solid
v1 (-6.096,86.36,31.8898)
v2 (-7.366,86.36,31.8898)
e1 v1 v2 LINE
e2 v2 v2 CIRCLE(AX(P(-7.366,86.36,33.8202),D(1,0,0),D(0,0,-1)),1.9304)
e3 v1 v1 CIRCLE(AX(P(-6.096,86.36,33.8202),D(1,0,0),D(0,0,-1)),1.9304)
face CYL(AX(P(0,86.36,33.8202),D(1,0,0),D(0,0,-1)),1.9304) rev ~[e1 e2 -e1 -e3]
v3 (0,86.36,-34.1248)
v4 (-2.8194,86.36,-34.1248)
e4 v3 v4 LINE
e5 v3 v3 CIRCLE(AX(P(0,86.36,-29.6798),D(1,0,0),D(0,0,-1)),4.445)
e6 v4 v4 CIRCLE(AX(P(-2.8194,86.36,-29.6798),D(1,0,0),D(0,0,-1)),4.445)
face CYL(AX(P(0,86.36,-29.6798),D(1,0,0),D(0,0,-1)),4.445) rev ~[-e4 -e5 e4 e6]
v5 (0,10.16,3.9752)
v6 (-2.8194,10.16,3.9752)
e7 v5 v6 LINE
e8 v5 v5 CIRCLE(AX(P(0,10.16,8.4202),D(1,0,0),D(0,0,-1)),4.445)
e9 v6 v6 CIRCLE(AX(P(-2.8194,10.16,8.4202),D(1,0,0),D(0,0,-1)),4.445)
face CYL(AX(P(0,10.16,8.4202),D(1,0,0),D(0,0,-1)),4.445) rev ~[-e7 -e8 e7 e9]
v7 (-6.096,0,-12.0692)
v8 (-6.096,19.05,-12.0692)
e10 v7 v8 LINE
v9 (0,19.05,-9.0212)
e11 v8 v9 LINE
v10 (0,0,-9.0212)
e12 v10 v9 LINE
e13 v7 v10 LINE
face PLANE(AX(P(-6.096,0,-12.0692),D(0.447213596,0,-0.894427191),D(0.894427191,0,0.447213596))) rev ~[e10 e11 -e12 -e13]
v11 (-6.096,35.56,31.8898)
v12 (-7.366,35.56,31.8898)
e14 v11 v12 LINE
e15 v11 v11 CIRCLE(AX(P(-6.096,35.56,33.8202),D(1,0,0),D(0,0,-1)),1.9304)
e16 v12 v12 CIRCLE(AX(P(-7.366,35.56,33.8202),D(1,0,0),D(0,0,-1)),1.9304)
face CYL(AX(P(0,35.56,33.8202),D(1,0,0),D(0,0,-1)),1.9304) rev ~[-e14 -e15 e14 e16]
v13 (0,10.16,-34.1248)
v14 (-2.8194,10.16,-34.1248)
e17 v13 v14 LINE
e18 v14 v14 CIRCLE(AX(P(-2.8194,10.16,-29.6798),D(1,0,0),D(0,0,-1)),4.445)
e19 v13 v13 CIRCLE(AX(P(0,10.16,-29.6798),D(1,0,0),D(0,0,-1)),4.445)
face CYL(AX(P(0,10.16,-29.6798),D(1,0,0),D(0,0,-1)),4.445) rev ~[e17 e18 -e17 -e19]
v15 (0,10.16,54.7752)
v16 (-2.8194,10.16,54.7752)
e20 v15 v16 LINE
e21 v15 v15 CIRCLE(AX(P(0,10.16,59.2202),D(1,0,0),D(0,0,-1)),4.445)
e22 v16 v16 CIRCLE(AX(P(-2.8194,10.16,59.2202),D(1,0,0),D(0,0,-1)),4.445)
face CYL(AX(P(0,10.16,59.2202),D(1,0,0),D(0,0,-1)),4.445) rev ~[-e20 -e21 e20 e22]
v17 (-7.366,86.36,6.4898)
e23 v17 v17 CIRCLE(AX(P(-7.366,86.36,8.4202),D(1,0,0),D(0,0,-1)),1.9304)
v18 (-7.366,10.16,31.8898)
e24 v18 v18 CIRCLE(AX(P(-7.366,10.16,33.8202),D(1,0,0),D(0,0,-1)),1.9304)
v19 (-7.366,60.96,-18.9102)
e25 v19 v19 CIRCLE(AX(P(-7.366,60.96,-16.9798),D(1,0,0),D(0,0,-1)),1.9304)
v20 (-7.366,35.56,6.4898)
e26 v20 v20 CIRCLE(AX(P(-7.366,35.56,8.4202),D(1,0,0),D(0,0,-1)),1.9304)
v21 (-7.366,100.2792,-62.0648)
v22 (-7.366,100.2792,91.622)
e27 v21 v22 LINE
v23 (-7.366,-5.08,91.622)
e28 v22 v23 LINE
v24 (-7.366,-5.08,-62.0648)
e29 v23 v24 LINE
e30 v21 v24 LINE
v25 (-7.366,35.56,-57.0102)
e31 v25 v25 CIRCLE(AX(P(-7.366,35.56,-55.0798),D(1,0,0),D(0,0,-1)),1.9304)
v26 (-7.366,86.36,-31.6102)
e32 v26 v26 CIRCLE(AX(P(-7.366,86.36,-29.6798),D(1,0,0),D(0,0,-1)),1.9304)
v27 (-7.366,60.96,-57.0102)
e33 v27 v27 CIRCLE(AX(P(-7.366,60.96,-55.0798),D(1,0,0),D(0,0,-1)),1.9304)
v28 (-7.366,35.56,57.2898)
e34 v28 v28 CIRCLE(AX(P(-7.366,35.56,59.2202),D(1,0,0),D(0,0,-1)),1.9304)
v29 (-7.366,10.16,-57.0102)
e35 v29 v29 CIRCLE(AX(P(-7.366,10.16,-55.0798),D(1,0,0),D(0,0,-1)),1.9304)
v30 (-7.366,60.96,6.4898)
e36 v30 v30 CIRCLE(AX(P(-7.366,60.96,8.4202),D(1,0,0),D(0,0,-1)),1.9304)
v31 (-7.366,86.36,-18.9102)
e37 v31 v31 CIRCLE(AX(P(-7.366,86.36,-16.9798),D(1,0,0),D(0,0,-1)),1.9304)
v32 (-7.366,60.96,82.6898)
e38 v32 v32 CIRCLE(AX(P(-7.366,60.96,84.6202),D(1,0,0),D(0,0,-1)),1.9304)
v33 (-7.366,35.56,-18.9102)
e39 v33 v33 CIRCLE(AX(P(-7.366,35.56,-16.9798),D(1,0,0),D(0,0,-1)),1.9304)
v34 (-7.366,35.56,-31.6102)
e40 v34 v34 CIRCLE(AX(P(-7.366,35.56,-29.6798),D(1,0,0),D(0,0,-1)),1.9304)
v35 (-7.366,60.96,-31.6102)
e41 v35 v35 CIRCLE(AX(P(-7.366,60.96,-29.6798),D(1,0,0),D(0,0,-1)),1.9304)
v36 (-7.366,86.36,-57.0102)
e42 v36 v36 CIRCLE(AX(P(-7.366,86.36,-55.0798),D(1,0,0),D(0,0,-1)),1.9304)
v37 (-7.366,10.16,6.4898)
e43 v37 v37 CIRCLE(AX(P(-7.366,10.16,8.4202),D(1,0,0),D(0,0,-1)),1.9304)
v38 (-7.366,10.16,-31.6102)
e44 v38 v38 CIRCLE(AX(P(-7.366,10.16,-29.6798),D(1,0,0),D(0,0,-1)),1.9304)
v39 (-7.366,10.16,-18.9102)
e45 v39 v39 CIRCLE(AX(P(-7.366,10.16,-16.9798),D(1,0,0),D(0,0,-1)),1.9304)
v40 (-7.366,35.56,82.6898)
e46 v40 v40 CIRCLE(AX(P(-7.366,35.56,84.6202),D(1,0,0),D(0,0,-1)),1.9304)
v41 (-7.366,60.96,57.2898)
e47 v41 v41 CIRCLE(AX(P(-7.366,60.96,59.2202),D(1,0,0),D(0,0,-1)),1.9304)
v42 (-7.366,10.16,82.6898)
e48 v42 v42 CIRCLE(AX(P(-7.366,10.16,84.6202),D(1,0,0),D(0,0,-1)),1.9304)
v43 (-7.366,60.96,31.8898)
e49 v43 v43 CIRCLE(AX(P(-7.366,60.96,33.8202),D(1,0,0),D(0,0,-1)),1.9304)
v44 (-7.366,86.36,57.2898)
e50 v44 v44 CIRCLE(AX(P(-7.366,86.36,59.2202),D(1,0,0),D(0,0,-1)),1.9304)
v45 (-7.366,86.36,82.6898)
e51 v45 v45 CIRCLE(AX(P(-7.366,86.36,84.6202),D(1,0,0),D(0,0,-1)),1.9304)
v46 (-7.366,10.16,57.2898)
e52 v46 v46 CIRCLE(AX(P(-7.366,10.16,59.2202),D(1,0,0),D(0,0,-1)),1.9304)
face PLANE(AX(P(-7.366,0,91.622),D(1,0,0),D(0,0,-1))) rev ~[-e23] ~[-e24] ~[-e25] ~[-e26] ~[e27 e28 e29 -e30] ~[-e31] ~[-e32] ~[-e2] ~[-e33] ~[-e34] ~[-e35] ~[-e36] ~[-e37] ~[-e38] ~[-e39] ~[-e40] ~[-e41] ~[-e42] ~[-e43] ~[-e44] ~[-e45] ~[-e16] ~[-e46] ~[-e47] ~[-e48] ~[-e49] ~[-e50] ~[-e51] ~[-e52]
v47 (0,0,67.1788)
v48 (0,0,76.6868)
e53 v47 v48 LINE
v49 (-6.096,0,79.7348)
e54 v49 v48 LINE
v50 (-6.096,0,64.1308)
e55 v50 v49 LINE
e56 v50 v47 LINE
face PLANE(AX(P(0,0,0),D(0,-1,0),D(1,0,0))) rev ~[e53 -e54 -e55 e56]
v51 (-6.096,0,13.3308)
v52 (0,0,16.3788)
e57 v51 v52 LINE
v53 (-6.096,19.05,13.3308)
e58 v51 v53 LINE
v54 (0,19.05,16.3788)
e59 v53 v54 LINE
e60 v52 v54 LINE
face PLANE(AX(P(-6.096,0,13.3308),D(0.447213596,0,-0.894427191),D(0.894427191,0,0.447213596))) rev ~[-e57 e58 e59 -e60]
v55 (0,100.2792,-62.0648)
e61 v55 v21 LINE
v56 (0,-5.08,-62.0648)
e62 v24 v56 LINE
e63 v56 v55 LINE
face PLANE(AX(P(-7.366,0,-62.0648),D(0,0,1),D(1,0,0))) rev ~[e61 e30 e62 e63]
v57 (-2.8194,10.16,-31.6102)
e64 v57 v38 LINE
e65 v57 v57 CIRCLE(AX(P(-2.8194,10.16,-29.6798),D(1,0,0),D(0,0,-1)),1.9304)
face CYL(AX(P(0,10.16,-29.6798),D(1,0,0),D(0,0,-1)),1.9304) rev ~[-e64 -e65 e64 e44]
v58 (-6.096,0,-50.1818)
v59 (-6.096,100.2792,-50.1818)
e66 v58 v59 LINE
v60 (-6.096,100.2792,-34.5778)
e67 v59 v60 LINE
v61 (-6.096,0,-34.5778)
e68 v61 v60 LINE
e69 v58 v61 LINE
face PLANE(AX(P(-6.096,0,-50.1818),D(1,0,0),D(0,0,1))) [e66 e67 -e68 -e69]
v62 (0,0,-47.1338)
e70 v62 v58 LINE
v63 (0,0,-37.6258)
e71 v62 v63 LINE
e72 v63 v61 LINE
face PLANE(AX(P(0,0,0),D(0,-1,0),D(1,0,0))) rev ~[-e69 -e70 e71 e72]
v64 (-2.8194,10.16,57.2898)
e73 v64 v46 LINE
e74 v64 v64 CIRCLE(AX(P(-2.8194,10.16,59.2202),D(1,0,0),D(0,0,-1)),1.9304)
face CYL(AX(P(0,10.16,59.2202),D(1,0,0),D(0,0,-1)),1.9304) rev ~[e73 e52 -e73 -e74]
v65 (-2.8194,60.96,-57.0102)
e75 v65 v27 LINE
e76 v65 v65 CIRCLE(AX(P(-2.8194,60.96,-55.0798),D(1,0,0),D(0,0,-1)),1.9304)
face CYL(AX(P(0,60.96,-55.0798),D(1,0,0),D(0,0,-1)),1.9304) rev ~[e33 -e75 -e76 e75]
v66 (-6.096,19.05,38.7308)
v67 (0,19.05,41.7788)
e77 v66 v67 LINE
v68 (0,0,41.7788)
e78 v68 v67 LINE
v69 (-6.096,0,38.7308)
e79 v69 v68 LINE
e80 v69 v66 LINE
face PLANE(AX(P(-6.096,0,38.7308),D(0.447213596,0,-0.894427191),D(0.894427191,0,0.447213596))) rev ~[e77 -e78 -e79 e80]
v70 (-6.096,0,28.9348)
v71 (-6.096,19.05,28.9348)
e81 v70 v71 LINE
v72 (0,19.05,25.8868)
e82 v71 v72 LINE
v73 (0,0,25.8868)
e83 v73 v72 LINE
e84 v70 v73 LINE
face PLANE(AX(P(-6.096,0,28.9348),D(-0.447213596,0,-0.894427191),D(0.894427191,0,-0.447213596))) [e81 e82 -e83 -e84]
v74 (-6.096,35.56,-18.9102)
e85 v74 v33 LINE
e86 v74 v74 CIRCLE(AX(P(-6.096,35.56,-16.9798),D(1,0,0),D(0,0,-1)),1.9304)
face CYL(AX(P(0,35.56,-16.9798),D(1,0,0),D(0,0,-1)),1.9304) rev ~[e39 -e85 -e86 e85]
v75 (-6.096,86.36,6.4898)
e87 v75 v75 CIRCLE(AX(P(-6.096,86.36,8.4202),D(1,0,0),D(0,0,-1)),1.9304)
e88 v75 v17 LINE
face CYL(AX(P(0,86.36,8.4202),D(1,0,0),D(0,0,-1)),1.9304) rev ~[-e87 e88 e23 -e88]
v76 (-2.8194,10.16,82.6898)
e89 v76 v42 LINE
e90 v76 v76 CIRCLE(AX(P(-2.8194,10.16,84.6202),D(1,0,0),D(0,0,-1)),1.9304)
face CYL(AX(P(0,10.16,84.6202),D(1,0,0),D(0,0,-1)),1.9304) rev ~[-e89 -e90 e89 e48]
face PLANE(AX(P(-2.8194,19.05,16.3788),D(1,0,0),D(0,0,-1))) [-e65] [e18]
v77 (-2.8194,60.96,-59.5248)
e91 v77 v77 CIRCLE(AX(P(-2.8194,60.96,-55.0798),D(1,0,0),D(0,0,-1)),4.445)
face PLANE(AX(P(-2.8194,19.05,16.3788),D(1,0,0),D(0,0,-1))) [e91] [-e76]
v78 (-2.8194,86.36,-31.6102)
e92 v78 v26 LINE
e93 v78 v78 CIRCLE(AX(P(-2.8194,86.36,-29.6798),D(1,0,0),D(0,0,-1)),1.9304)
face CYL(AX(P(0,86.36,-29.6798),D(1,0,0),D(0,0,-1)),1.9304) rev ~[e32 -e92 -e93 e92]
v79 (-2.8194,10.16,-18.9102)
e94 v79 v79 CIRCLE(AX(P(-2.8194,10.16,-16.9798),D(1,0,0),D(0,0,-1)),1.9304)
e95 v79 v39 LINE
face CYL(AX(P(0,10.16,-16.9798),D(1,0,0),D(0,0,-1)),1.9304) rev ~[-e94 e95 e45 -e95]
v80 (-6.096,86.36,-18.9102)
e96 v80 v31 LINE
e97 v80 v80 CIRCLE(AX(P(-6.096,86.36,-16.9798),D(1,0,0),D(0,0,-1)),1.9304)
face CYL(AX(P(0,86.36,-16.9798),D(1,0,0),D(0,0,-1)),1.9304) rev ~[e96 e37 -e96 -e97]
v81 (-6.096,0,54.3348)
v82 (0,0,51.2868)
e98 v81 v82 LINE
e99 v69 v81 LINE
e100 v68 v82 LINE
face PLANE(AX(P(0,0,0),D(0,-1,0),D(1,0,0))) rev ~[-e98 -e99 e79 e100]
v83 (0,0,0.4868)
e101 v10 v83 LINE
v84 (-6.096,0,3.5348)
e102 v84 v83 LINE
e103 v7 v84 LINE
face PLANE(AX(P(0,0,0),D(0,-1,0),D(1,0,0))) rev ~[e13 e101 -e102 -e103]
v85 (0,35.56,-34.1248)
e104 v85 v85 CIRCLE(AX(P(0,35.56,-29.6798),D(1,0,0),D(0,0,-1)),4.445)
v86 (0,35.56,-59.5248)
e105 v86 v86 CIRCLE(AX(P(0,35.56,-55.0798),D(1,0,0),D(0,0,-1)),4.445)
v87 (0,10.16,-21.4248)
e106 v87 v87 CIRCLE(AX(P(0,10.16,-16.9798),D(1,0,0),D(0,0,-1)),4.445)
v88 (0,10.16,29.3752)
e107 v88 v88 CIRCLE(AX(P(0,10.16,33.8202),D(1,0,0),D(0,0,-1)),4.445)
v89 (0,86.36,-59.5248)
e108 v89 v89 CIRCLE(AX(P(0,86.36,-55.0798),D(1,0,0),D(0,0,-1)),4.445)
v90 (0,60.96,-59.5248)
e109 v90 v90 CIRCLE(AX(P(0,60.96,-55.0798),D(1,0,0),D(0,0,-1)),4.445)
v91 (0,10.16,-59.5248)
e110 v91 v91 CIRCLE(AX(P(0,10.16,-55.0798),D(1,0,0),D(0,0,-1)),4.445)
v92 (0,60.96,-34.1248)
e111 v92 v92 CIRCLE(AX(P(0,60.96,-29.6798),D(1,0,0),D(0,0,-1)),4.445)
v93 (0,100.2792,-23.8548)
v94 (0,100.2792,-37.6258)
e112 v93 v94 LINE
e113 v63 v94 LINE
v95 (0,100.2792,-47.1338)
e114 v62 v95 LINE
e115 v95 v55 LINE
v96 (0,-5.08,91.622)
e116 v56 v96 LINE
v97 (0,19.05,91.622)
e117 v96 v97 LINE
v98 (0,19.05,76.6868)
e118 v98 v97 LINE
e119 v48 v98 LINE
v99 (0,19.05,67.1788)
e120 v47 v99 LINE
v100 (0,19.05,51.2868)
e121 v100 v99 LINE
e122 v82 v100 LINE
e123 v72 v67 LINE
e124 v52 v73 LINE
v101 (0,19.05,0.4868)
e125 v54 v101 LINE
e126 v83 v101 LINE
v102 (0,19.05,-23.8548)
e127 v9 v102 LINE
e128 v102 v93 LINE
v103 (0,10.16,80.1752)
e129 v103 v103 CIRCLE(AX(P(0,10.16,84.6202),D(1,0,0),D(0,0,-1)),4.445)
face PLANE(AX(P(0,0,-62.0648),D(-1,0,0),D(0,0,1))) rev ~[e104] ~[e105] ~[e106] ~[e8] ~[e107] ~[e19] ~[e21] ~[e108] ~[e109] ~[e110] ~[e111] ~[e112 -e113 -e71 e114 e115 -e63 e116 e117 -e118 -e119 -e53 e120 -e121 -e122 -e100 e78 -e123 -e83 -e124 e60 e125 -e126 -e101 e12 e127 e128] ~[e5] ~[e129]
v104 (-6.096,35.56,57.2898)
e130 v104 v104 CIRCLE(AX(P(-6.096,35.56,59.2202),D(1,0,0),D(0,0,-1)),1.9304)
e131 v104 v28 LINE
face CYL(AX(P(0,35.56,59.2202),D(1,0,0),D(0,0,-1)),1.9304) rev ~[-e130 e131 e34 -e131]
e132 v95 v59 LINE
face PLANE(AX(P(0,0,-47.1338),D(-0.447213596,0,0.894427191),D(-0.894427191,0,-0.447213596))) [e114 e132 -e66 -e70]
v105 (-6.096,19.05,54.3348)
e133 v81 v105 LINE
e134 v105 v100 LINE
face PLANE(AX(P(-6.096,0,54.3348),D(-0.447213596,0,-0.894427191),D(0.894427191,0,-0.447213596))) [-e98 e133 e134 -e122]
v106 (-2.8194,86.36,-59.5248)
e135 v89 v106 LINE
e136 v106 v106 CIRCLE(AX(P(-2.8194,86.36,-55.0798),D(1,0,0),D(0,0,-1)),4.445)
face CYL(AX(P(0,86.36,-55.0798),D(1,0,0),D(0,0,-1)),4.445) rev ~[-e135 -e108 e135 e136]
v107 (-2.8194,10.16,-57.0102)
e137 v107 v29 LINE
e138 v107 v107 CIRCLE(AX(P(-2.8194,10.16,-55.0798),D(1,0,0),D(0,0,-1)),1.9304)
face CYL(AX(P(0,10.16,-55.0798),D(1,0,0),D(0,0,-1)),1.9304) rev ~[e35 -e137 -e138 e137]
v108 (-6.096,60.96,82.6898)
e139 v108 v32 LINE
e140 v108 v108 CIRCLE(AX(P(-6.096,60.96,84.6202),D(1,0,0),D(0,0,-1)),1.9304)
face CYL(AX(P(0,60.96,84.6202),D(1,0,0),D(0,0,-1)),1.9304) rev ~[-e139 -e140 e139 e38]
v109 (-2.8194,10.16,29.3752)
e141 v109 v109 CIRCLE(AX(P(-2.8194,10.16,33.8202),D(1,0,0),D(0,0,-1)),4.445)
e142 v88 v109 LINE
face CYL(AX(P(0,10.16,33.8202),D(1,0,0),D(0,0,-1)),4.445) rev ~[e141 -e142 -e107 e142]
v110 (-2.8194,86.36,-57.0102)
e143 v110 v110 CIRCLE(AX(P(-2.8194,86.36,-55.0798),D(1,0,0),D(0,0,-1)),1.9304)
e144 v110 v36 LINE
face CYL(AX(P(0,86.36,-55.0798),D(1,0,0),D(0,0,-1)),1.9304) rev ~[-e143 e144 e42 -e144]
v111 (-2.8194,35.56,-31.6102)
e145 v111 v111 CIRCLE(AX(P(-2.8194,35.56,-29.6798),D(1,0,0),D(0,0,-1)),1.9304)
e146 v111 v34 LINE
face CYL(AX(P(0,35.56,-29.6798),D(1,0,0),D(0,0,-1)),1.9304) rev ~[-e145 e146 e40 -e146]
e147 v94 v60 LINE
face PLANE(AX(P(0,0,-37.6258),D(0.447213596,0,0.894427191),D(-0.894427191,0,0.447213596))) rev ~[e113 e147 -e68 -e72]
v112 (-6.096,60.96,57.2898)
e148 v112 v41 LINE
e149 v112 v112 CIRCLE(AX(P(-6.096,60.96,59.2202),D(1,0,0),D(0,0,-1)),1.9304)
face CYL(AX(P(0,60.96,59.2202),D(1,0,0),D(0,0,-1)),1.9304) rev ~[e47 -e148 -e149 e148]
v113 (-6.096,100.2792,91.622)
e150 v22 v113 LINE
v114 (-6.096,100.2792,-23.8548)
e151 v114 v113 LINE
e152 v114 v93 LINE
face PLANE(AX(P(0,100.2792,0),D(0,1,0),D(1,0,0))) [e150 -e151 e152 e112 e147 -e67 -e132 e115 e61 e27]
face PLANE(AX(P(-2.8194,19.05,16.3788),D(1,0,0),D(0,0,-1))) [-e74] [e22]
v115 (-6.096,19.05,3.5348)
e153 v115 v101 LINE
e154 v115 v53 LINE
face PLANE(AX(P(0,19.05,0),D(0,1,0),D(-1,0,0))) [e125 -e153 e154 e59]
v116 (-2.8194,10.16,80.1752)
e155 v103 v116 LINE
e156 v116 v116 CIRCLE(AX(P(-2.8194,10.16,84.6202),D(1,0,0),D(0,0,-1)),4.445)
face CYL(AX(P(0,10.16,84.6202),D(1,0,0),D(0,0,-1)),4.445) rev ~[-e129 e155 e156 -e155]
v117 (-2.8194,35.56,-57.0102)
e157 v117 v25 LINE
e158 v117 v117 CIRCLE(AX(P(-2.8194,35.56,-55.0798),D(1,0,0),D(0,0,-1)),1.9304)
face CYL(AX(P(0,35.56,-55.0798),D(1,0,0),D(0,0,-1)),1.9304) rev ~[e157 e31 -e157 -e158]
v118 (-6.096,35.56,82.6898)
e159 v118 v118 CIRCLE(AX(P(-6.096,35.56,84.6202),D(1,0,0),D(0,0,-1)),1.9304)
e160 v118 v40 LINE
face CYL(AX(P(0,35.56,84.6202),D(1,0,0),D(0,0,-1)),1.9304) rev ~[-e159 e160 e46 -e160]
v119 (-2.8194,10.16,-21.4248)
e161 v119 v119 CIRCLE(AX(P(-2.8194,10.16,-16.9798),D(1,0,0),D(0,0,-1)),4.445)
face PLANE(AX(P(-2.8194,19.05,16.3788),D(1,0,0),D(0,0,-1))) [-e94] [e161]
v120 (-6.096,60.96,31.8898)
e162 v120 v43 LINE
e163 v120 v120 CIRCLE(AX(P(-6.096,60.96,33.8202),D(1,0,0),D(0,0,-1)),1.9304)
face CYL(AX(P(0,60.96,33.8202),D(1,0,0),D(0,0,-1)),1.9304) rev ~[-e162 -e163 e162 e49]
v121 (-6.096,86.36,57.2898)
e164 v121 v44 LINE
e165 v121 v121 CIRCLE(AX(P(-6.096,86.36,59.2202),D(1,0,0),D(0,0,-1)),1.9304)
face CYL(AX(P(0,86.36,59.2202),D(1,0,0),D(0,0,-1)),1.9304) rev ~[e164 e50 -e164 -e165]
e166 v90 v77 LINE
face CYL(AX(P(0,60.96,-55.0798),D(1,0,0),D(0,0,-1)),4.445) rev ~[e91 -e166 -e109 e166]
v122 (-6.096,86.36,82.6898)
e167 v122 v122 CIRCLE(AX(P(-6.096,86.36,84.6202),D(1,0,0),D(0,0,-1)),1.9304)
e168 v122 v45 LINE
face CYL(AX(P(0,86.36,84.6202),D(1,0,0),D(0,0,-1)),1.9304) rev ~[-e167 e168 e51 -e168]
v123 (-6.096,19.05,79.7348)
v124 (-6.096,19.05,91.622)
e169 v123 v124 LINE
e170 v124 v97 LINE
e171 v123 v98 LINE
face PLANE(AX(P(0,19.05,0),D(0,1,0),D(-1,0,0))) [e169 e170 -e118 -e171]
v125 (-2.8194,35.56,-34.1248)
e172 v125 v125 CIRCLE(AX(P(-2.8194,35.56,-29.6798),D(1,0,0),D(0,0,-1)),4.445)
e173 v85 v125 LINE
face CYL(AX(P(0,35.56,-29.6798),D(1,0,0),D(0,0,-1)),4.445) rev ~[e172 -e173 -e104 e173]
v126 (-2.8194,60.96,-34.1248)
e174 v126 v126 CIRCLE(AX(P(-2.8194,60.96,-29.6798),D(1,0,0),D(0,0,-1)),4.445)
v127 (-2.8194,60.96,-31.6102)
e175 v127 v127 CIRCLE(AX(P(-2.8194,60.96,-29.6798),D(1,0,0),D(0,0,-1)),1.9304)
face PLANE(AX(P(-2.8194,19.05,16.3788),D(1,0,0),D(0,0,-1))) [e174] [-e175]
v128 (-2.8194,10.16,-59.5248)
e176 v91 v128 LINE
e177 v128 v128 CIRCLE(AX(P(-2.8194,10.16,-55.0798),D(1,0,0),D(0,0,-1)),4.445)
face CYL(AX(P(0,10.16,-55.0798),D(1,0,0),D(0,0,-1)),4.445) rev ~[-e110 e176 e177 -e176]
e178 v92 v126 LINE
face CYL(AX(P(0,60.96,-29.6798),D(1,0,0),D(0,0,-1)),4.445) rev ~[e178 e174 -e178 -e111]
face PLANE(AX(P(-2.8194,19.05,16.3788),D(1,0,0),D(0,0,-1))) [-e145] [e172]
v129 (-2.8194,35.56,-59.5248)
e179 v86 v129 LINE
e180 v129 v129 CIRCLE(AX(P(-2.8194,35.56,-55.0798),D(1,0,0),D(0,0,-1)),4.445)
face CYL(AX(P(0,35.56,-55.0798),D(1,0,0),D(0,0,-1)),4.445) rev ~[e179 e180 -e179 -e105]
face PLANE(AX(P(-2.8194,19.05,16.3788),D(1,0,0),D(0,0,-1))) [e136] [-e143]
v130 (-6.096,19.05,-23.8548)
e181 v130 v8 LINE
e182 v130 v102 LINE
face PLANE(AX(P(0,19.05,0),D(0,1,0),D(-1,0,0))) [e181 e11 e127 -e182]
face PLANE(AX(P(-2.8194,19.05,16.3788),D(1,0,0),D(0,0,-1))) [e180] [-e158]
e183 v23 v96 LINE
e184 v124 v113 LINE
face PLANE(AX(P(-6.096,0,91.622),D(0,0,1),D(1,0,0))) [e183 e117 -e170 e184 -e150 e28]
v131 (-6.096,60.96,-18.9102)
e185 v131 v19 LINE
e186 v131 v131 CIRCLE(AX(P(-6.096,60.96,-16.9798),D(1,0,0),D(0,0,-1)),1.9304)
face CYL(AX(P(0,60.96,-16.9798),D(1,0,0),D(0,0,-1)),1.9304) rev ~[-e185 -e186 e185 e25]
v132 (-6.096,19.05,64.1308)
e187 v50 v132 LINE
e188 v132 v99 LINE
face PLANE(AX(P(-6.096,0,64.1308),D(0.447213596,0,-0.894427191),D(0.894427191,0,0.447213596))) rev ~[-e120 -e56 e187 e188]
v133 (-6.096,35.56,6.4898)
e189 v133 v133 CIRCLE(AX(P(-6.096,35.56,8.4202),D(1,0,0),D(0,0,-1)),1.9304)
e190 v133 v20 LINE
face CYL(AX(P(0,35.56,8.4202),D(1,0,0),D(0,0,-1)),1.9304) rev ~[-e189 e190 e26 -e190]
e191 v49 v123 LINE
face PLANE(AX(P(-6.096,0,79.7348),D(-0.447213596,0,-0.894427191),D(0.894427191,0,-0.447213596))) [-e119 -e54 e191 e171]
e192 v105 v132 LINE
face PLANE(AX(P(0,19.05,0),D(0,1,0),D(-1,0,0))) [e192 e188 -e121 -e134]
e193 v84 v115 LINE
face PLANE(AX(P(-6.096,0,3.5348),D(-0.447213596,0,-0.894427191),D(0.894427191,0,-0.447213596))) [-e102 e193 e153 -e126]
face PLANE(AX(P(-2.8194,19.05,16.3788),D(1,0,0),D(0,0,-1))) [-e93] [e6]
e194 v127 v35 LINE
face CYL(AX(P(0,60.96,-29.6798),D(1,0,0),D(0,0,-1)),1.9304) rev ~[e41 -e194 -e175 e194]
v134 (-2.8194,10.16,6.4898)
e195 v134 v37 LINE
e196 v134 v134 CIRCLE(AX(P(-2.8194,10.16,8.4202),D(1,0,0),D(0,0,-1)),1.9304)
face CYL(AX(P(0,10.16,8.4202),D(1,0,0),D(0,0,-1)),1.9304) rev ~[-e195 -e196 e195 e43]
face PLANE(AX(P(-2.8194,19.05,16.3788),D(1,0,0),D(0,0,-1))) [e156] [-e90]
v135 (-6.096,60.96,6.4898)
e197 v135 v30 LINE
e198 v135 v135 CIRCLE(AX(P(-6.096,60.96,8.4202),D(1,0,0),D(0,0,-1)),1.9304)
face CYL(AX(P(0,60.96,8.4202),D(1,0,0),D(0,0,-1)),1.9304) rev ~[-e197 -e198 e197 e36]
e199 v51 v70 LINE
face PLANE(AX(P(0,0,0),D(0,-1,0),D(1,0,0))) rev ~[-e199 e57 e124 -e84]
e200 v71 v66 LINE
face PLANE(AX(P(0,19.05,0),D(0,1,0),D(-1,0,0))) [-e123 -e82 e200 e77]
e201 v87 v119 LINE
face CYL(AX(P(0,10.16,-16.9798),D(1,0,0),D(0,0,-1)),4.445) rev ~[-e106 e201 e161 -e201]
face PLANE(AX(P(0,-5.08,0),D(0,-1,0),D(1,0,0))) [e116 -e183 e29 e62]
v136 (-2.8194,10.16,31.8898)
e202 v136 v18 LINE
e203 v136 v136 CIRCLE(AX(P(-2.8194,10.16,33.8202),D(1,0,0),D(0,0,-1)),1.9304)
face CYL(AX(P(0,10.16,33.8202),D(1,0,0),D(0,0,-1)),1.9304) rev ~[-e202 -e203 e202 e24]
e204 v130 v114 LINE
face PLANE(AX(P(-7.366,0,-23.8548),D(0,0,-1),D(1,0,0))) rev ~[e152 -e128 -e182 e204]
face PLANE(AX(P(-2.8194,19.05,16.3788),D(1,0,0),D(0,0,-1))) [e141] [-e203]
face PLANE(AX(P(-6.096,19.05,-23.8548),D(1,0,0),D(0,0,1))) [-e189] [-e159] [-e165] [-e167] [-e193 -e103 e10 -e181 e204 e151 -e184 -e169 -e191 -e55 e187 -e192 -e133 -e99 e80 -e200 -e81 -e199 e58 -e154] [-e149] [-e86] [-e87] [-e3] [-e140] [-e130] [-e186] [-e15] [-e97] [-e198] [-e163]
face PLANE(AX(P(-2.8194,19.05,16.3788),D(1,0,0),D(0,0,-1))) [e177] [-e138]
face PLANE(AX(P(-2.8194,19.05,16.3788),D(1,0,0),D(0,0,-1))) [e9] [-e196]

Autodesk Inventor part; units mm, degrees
ref_plane "YZ Plane" through (0, 0, 0) normal (1, 0, 0) x (0, 1, 0)
ref_plane "XZ Plane" through (0, 0, 0) normal (0, 1, 0) x (-1, 0, 0)
ref_plane "XY Plane" through (0, 0, 0) normal (0, 0, 1) x (1, 0, 0)
sketch "Sketch1" plane through (0, 0, 0) normal (0, 1, 0) x (-1, 0, 0)
  line L0 (7.366, 6.1452) -> (7.366, -23.8548)
  line L1 (7.366, -23.8548) -> (0, -23.8548)
  line L2 (6.096, -8.0476) -> (6.096, -9.0212)
  line L3 (0, 0.4868) -> (0, 3.5348)
  line L4 (6.096, 3.5348) -> (6.096, -8.0476)
  line L5 (0, -9.0212) -> (0, -11.8152)
  line L6 (6.096, -12.0692) -> (6.096, -9.0212)
  line L7 (6.096, 3.5348) -> (0, 0.4868)
  line L8 (6.096, -12.0692) -> (0, -9.0212)
  line L9 (0, -23.8548) -> (0, -9.0212)
  line L10 (0, 0.4868) -> (0, 16.3788)
  line L11 (6.096, 13.3308) -> (6.096, 16.3788)
  line L12 (6.096, 13.3308) -> (0, 16.3788)
  line L13 (6.096, 28.9348) -> (6.096, 17.3524)
  line L14 (6.096, 28.9348) -> (0, 25.8868)
  line L15 (6.096, 17.3524) -> (6.096, 16.3788)
  line L16 (6.096, 38.7308) -> (6.096, 41.7788)
  line L17 (6.096, 38.7308) -> (0, 41.7788)
  line L18 (6.096, 54.3348) -> (6.096, 42.7524)
  line L19 (6.096, 54.3348) -> (0, 51.2868)
  line L20 (6.096, 42.7524) -> (6.096, 41.7788)
  line L21 (6.096, 64.1308) -> (6.096, 67.1788)
  line L22 (6.096, 64.1308) -> (0, 67.1788)
  line L23 (6.096, 79.7348) -> (6.096, 68.1524)
  line L24 (6.096, 79.7348) -> (0, 76.6868)
  line L25 (6.096, 68.1524) -> (6.096, 67.1788)
  line L26 (7.366, 6.1452) -> (7.366, 91.622)
  line L27 (7.366, 91.622) -> (0, 91.622)
  line L28 (0, 25.8868) -> (0, 41.7788)
  line L29 (0, 51.2868) -> (0, 67.1788)
  line L30 (0, 76.6868) -> (0, 91.622)
  line L31 (6.096, -4.2672) -> (4.0009, -4.2672) construction
  point P0 (0, 0)
  dimension "d0" = 7.366
  dimension "d8" = 9.508
  dimension "d10" = 3.048
  dimension "d11" = 3.048
  dimension "d12" = 6.096
  dimension "d17" = 25.4
  dimension "d24" = 11.7856
  dimension "d67" = 115.4768
  dimension "d70" = 23.8548
  dimension "d71" = 4.754
extrude "MultipleTeeth" add sketch "Sketch1" along normal blind 19.05
sketch "Sketch2" plane through (0, 0, 0) normal (0, -1, 0) x (1, 0, 0)
  line L0 (0, 0.4868) -> (-6.096, 3.5348) construction
  line L1 (-6.096, 3.5348) -> (-6.096, -12.0692) construction
  line L2 (-6.096, -12.0692) -> (0, -9.0212) construction
  line L3 (0, 16.3788) -> (0, 0.4868) projected
  line L4 (0, 0.4868) -> (-6.096, 3.5348)
  line L5 (-6.096, -12.0692) -> (0, -9.0212) projected
  line L6 (-6.096, 3.5348) -> (-6.096, -12.0692) projected
  line L7 (-6.096, -12.0692) -> (-6.096, 3.5348)
  line L8 (0, -9.0212) -> (-6.096, -12.0692)
  line L9 (-7.366, -23.8548) -> (-7.366, 91.622) projected
  line L10 (-7.366, -59.508) -> (-7.366, -32.8548)
  line L11 (-7.366, -23.8548) -> (0, -23.8548)
  line L12 (-7.366, 91.622) -> (0, 91.622) projected
  line L13 (-7.366, -55.8503) -> (-7.366, -40.458) construction
  line L14 (0, -43.0234) -> (0, -59.508) construction
  line L15 (-6.096, -62.0648) -> (0, -62.0648) construction
  line L16 (0, -32.8548) -> (0, -37.6258)
  line L17 (0, -49.9828) -> (0, -62.0648)
  line L18 (0, -62.0648) -> (0, -59.508)
  line L19 (0, -32.8548) -> (-7.366, -32.8548) construction
  line L20 (0, -51.9048) -> (-7.366, -51.9048) construction
  line L21 (0, -42.3798) -> (-7.366, -42.3798) construction
  line L22 (-6.096, -12.0692) -> (-6.096, -62.0648) construction
  line L23 (0, -37.6258) -> (-6.096, -34.5778)
  line L24 (-6.096, -50.1818) -> (-6.096, -34.5778)
  line L25 (0, -47.1338) -> (-6.096, -50.1818)
  line L26 (0, -9.0212) -> (0, -23.8548) projected
  line L27 (0, -23.8548) -> (0, -32.8548)
  line L28 (-7.366, -32.8548) -> (-7.366, -23.8548)
  line L29 (0, -49.9828) -> (0, -47.1338)
  line L30 (0, -62.0648) -> (-7.366, -62.0648)
  line L31 (-7.366, -62.0648) -> (-7.366, -59.508)
  point P0 (0, 0)
  dimension "d25" = 115.4768
  dimension "d33" = 9
  dimension "d34" = 19.05
  dimension "d36" = 9.525
  dimension "d38" = 10.16
extrude "LongTooth" add sketch "Sketch2" against normal blind 100.2792
sketch "Sketch3" plane through (0, 19.05, 0) normal (0, 1, 0) x (1, 0, 0)
  line L0 (-6.096, -3.5348) -> (-6.096, 12.0692) construction
  line L1 (0, 23.8548) -> (-7.366, 23.8548) projected
  line L2 (-7.366, -91.622) -> (0, -91.622) projected
  line L3 (-7.366, 23.8548) -> (-6.096, 23.8548)
  line L4 (-6.096, 23.8548) -> (-6.096, -91.622)
  line L5 (-6.096, -91.622) -> (-7.366, -91.622)
  line L6 (-7.366, -91.622) -> (-7.366, 23.8548)
  point P0 (0, 0)
extrude "ThinPlate" add sketch "Sketch3" along normal up to surface (81.2292 mm away)
sketch "Sketch4" plane through (0, 0, 0) normal (0, -1, 0) x (1, 0, 0)
  line L0 (-6.096, 91.622) -> (0, 91.622) projected
  line L1 (-7.366, 91.622) -> (-7.366, -62.0648) projected
  line L2 (0, 91.622) -> (-7.366, 91.622)
  line L3 (-7.366, 91.622) -> (-7.366, -62.0648)
  line L4 (-7.366, -62.0648) -> (0, -62.0648)
  line L5 (0, -62.0648) -> (0, 91.622)
  point P0 (0, 0)
extrude "Extrusion4" add sketch "Sketch4" along normal blind 5.08
ref_plane "Work Plane1" through (-15.892, 0, 8.4328) normal (0, 0, 1) x (0, 1, 0)
sketch "Sketch6" plane through (0, 19.05, 16.3788) normal (1, 0, 0) x (0, 0, -1)
  circle A0 centre (71.4586, -8.89) radius 1.9304
  line L0 (78.4436, 81.2292) -> (78.4436, -24.13) projected
  line L1 (78.4436, -24.13) -> (-75.2432, -24.13) projected
  circle A1 centre (58.7586, -8.89) radius 1.9304
  circle A2 centre (46.0586, -8.89) radius 1.9304
  circle A3 centre (71.4586, 3.81) radius 1.9304
  circle A4 centre (58.7586, 3.81) radius 1.9304
  circle A5 centre (46.0586, 3.81) radius 1.9304
  circle A6 centre (71.4586, 16.51) radius 1.9304
  circle A7 centre (58.7586, 16.51) radius 1.9304
  circle A8 centre (46.0586, 16.51) radius 1.9304
  circle A9 centre (71.4586, 29.21) radius 1.9304
  circle A10 centre (58.7586, 29.21) radius 1.9304
  circle A11 centre (46.0586, 29.21) radius 1.9304
  circle A12 centre (71.4586, 41.91) radius 1.9304
  circle A13 centre (58.7586, 41.91) radius 1.9304
  circle A14 centre (46.0586, 41.91) radius 1.9304
  circle A15 centre (71.4586, 54.61) radius 1.9304
  circle A16 centre (58.7586, 54.61) radius 1.9304
  circle A17 centre (46.0586, 54.61) radius 1.9304
  circle A18 centre (71.4586, 67.31) radius 1.9304
  circle A19 centre (58.7586, 67.31) radius 1.9304
  circle A20 centre (46.0586, 67.31) radius 1.9304
  circle A21 centre (33.3586, -8.89) radius 1.9304
  circle A22 centre (33.3586, 3.81) radius 1.9304
  circle A23 centre (33.3586, 16.51) radius 1.9304
  circle A24 centre (33.3586, 29.21) radius 1.9304
  circle A25 centre (33.3586, 41.91) radius 1.9304
  circle A26 centre (33.3586, 54.61) radius 1.9304
  circle A27 centre (33.3586, 67.31) radius 1.9304
  circle A28 centre (20.6586, -8.89) radius 1.9304
  circle A29 centre (20.6586, 3.81) radius 1.9304
  circle A30 centre (20.6586, 16.51) radius 1.9304
  circle A31 centre (20.6586, 29.21) radius 1.9304
  circle A32 centre (20.6586, 41.91) radius 1.9304
  circle A33 centre (20.6586, 54.61) radius 1.9304
  circle A34 centre (20.6586, 67.31) radius 1.9304
  circle A35 centre (7.9586, -8.89) radius 1.9304
  circle A36 centre (7.9586, 3.81) radius 1.9304
  circle A37 centre (7.9586, 16.51) radius 1.9304
  circle A38 centre (7.9586, 29.21) radius 1.9304
  circle A39 centre (7.9586, 41.91) radius 1.9304
  circle A40 centre (7.9586, 54.61) radius 1.9304
  circle A41 centre (7.9586, 67.31) radius 1.9304
  circle A42 centre (-4.7414, -8.89) radius 1.9304
  circle A43 centre (-4.7414, 3.81) radius 1.9304
  circle A44 centre (-4.7414, 16.51) radius 1.9304
  circle A45 centre (-4.7414, 29.21) radius 1.9304
  circle A46 centre (-4.7414, 41.91) radius 1.9304
  circle A47 centre (-4.7414, 54.61) radius 1.9304
  circle A48 centre (-4.7414, 67.31) radius 1.9304
  circle A49 centre (-17.4414, -8.89) radius 1.9304
  circle A50 centre (-17.4414, 3.81) radius 1.9304
  circle A51 centre (-17.4414, 16.51) radius 1.9304
  circle A52 centre (-17.4414, 29.21) radius 1.9304
  circle A53 centre (-17.4414, 41.91) radius 1.9304
  circle A54 centre (-17.4414, 54.61) radius 1.9304
  circle A55 centre (-17.4414, 67.31) radius 1.9304
  circle A56 centre (-30.1414, -8.89) radius 1.9304
  circle A57 centre (-30.1414, 3.81) radius 1.9304
  circle A58 centre (-30.1414, 16.51) radius 1.9304
  circle A59 centre (-30.1414, 29.21) radius 1.9304
  circle A60 centre (-30.1414, 41.91) radius 1.9304
  circle A61 centre (-30.1414, 54.61) radius 1.9304
  circle A62 centre (-30.1414, 67.31) radius 1.9304
  circle A63 centre (-42.8414, -8.89) radius 1.9304
  circle A64 centre (-42.8414, 3.81) radius 1.9304
  circle A65 centre (-42.8414, 16.51) radius 1.9304
  circle A66 centre (-42.8414, 29.21) radius 1.9304
  circle A67 centre (-42.8414, 41.91) radius 1.9304
  circle A68 centre (-42.8414, 54.61) radius 1.9304
  circle A69 centre (-42.8414, 67.31) radius 1.9304
  circle A70 centre (-55.5414, -8.89) radius 1.9304
  circle A71 centre (-55.5414, 3.81) radius 1.9304
  circle A72 centre (-55.5414, 16.51) radius 1.9304
  circle A73 centre (-55.5414, 29.21) radius 1.9304
  circle A74 centre (-55.5414, 41.91) radius 1.9304
  circle A75 centre (-55.5414, 54.61) radius 1.9304
  circle A76 centre (-55.5414, 67.31) radius 1.9304
  circle A77 centre (-68.2414, -8.89) radius 1.9304
  circle A78 centre (-68.2414, 3.81) radius 1.9304
  circle A79 centre (-68.2414, 16.51) radius 1.9304
  circle A80 centre (-68.2414, 29.21) radius 1.9304
  circle A81 centre (-68.2414, 41.91) radius 1.9304
  circle A82 centre (-68.2414, 54.61) radius 1.9304
  circle A83 centre (-68.2414, 67.31) radius 1.9304
  point P0 (16.3788, -19.05)
  dimension "d56" = 3.8608
  dimension "d57" = 6.985
  dimension "d58" = 15.24
  dimension "d61" = 12.7
  dimension "d64" = 12.7
extrude "Extrusion5" cut sketch "Sketch6" against normal through all contours A0 | A2 | A6 | A8 | A12 | A14 | A18 | A20 | A21 | A23 | A25 | A27 | A35 | A37 | A39 | A41 | A49 | A51 | A53 | A55 | A63 | A65 | A67 | A69 | A77 | A79 | A81 | A83
sketch "Sketch7" plane through (0, 19.05, 16.3788) normal (1, 0, 0) x (0, 0, -1)
  circle A0 centre (-68.2414, -8.89) radius 1.9304 projected
  circle A1 centre (-68.2414, -8.89) radius 4.445
  circle A2 centre (-42.8414, -8.89) radius 1.9304 projected
  circle A3 centre (-42.8414, -8.89) radius 4.445
  circle A4 centre (-17.4414, -8.89) radius 1.9304 projected
  circle A5 centre (-17.4414, -8.89) radius 4.445
  circle A6 centre (7.9586, -8.89) radius 1.9304 projected
  circle A7 centre (7.9586, -8.89) radius 4.445
  circle A8 centre (33.3586, -8.89) radius 1.9304 projected
  circle A9 centre (33.3586, -8.89) radius 4.445
  circle A10 centre (46.0586, -8.89) radius 1.9304 projected
  circle A11 centre (46.0586, -8.89) radius 4.445
  circle A12 centre (71.4586, -8.89) radius 1.9304 projected
  circle A13 centre (71.4586, -8.89) radius 4.445
  circle A14 centre (46.0586, 16.51) radius 1.9304 projected
  circle A15 centre (46.0586, 16.51) radius 4.445
  circle A16 centre (71.4586, 16.51) radius 1.9304 projected
  circle A17 centre (71.4586, 16.51) radius 4.445
  circle A18 centre (46.0586, 41.91) radius 1.9304 projected
  circle A19 centre (46.0586, 41.91) radius 4.445
  circle A20 centre (71.4586, 41.91) radius 1.9304 projected
  circle A21 centre (71.4586, 41.91) radius 4.445
  circle A22 centre (46.0586, 67.31) radius 1.9304 projected
  circle A23 centre (46.0586, 67.31) radius 4.445
  circle A24 centre (71.4586, 67.31) radius 4.445
  point P0 (16.3788, -19.05)
  dimension "d74" = 8.89
  dimension "d75" = 8.89
  dimension "d76" = 8.89
  dimension "d77" = 8.89
  dimension "d78" = 8.89
  dimension "d79" = 8.89
  dimension "d80" = 8.89
  dimension "d81" = 8.89
  dimension "d82" = 8.89
  dimension "d83" = 8.89
  dimension "d84" = 8.89
  dimension "d85" = 8.89
  dimension "d86" = 8.89
extrude "Extrusion6" cut sketch "Sketch7" against normal blind 2.8194 contours A0 | A1 | A2 | A3 | A4 | A5 | A6 | A7 | A8 | A9 | A10 | A11 | A12 | A13 | A14 | A15 | A16 | A17 | A18 | A19 | A20 | A21 | A22 | A23 | A24
equation "\"d11\" = d10"
equation "\"d71\" = 0.5 * d8"
equation "\"d36\" = 0.5 * d34"
properties part number "Lift mount receiver left"
